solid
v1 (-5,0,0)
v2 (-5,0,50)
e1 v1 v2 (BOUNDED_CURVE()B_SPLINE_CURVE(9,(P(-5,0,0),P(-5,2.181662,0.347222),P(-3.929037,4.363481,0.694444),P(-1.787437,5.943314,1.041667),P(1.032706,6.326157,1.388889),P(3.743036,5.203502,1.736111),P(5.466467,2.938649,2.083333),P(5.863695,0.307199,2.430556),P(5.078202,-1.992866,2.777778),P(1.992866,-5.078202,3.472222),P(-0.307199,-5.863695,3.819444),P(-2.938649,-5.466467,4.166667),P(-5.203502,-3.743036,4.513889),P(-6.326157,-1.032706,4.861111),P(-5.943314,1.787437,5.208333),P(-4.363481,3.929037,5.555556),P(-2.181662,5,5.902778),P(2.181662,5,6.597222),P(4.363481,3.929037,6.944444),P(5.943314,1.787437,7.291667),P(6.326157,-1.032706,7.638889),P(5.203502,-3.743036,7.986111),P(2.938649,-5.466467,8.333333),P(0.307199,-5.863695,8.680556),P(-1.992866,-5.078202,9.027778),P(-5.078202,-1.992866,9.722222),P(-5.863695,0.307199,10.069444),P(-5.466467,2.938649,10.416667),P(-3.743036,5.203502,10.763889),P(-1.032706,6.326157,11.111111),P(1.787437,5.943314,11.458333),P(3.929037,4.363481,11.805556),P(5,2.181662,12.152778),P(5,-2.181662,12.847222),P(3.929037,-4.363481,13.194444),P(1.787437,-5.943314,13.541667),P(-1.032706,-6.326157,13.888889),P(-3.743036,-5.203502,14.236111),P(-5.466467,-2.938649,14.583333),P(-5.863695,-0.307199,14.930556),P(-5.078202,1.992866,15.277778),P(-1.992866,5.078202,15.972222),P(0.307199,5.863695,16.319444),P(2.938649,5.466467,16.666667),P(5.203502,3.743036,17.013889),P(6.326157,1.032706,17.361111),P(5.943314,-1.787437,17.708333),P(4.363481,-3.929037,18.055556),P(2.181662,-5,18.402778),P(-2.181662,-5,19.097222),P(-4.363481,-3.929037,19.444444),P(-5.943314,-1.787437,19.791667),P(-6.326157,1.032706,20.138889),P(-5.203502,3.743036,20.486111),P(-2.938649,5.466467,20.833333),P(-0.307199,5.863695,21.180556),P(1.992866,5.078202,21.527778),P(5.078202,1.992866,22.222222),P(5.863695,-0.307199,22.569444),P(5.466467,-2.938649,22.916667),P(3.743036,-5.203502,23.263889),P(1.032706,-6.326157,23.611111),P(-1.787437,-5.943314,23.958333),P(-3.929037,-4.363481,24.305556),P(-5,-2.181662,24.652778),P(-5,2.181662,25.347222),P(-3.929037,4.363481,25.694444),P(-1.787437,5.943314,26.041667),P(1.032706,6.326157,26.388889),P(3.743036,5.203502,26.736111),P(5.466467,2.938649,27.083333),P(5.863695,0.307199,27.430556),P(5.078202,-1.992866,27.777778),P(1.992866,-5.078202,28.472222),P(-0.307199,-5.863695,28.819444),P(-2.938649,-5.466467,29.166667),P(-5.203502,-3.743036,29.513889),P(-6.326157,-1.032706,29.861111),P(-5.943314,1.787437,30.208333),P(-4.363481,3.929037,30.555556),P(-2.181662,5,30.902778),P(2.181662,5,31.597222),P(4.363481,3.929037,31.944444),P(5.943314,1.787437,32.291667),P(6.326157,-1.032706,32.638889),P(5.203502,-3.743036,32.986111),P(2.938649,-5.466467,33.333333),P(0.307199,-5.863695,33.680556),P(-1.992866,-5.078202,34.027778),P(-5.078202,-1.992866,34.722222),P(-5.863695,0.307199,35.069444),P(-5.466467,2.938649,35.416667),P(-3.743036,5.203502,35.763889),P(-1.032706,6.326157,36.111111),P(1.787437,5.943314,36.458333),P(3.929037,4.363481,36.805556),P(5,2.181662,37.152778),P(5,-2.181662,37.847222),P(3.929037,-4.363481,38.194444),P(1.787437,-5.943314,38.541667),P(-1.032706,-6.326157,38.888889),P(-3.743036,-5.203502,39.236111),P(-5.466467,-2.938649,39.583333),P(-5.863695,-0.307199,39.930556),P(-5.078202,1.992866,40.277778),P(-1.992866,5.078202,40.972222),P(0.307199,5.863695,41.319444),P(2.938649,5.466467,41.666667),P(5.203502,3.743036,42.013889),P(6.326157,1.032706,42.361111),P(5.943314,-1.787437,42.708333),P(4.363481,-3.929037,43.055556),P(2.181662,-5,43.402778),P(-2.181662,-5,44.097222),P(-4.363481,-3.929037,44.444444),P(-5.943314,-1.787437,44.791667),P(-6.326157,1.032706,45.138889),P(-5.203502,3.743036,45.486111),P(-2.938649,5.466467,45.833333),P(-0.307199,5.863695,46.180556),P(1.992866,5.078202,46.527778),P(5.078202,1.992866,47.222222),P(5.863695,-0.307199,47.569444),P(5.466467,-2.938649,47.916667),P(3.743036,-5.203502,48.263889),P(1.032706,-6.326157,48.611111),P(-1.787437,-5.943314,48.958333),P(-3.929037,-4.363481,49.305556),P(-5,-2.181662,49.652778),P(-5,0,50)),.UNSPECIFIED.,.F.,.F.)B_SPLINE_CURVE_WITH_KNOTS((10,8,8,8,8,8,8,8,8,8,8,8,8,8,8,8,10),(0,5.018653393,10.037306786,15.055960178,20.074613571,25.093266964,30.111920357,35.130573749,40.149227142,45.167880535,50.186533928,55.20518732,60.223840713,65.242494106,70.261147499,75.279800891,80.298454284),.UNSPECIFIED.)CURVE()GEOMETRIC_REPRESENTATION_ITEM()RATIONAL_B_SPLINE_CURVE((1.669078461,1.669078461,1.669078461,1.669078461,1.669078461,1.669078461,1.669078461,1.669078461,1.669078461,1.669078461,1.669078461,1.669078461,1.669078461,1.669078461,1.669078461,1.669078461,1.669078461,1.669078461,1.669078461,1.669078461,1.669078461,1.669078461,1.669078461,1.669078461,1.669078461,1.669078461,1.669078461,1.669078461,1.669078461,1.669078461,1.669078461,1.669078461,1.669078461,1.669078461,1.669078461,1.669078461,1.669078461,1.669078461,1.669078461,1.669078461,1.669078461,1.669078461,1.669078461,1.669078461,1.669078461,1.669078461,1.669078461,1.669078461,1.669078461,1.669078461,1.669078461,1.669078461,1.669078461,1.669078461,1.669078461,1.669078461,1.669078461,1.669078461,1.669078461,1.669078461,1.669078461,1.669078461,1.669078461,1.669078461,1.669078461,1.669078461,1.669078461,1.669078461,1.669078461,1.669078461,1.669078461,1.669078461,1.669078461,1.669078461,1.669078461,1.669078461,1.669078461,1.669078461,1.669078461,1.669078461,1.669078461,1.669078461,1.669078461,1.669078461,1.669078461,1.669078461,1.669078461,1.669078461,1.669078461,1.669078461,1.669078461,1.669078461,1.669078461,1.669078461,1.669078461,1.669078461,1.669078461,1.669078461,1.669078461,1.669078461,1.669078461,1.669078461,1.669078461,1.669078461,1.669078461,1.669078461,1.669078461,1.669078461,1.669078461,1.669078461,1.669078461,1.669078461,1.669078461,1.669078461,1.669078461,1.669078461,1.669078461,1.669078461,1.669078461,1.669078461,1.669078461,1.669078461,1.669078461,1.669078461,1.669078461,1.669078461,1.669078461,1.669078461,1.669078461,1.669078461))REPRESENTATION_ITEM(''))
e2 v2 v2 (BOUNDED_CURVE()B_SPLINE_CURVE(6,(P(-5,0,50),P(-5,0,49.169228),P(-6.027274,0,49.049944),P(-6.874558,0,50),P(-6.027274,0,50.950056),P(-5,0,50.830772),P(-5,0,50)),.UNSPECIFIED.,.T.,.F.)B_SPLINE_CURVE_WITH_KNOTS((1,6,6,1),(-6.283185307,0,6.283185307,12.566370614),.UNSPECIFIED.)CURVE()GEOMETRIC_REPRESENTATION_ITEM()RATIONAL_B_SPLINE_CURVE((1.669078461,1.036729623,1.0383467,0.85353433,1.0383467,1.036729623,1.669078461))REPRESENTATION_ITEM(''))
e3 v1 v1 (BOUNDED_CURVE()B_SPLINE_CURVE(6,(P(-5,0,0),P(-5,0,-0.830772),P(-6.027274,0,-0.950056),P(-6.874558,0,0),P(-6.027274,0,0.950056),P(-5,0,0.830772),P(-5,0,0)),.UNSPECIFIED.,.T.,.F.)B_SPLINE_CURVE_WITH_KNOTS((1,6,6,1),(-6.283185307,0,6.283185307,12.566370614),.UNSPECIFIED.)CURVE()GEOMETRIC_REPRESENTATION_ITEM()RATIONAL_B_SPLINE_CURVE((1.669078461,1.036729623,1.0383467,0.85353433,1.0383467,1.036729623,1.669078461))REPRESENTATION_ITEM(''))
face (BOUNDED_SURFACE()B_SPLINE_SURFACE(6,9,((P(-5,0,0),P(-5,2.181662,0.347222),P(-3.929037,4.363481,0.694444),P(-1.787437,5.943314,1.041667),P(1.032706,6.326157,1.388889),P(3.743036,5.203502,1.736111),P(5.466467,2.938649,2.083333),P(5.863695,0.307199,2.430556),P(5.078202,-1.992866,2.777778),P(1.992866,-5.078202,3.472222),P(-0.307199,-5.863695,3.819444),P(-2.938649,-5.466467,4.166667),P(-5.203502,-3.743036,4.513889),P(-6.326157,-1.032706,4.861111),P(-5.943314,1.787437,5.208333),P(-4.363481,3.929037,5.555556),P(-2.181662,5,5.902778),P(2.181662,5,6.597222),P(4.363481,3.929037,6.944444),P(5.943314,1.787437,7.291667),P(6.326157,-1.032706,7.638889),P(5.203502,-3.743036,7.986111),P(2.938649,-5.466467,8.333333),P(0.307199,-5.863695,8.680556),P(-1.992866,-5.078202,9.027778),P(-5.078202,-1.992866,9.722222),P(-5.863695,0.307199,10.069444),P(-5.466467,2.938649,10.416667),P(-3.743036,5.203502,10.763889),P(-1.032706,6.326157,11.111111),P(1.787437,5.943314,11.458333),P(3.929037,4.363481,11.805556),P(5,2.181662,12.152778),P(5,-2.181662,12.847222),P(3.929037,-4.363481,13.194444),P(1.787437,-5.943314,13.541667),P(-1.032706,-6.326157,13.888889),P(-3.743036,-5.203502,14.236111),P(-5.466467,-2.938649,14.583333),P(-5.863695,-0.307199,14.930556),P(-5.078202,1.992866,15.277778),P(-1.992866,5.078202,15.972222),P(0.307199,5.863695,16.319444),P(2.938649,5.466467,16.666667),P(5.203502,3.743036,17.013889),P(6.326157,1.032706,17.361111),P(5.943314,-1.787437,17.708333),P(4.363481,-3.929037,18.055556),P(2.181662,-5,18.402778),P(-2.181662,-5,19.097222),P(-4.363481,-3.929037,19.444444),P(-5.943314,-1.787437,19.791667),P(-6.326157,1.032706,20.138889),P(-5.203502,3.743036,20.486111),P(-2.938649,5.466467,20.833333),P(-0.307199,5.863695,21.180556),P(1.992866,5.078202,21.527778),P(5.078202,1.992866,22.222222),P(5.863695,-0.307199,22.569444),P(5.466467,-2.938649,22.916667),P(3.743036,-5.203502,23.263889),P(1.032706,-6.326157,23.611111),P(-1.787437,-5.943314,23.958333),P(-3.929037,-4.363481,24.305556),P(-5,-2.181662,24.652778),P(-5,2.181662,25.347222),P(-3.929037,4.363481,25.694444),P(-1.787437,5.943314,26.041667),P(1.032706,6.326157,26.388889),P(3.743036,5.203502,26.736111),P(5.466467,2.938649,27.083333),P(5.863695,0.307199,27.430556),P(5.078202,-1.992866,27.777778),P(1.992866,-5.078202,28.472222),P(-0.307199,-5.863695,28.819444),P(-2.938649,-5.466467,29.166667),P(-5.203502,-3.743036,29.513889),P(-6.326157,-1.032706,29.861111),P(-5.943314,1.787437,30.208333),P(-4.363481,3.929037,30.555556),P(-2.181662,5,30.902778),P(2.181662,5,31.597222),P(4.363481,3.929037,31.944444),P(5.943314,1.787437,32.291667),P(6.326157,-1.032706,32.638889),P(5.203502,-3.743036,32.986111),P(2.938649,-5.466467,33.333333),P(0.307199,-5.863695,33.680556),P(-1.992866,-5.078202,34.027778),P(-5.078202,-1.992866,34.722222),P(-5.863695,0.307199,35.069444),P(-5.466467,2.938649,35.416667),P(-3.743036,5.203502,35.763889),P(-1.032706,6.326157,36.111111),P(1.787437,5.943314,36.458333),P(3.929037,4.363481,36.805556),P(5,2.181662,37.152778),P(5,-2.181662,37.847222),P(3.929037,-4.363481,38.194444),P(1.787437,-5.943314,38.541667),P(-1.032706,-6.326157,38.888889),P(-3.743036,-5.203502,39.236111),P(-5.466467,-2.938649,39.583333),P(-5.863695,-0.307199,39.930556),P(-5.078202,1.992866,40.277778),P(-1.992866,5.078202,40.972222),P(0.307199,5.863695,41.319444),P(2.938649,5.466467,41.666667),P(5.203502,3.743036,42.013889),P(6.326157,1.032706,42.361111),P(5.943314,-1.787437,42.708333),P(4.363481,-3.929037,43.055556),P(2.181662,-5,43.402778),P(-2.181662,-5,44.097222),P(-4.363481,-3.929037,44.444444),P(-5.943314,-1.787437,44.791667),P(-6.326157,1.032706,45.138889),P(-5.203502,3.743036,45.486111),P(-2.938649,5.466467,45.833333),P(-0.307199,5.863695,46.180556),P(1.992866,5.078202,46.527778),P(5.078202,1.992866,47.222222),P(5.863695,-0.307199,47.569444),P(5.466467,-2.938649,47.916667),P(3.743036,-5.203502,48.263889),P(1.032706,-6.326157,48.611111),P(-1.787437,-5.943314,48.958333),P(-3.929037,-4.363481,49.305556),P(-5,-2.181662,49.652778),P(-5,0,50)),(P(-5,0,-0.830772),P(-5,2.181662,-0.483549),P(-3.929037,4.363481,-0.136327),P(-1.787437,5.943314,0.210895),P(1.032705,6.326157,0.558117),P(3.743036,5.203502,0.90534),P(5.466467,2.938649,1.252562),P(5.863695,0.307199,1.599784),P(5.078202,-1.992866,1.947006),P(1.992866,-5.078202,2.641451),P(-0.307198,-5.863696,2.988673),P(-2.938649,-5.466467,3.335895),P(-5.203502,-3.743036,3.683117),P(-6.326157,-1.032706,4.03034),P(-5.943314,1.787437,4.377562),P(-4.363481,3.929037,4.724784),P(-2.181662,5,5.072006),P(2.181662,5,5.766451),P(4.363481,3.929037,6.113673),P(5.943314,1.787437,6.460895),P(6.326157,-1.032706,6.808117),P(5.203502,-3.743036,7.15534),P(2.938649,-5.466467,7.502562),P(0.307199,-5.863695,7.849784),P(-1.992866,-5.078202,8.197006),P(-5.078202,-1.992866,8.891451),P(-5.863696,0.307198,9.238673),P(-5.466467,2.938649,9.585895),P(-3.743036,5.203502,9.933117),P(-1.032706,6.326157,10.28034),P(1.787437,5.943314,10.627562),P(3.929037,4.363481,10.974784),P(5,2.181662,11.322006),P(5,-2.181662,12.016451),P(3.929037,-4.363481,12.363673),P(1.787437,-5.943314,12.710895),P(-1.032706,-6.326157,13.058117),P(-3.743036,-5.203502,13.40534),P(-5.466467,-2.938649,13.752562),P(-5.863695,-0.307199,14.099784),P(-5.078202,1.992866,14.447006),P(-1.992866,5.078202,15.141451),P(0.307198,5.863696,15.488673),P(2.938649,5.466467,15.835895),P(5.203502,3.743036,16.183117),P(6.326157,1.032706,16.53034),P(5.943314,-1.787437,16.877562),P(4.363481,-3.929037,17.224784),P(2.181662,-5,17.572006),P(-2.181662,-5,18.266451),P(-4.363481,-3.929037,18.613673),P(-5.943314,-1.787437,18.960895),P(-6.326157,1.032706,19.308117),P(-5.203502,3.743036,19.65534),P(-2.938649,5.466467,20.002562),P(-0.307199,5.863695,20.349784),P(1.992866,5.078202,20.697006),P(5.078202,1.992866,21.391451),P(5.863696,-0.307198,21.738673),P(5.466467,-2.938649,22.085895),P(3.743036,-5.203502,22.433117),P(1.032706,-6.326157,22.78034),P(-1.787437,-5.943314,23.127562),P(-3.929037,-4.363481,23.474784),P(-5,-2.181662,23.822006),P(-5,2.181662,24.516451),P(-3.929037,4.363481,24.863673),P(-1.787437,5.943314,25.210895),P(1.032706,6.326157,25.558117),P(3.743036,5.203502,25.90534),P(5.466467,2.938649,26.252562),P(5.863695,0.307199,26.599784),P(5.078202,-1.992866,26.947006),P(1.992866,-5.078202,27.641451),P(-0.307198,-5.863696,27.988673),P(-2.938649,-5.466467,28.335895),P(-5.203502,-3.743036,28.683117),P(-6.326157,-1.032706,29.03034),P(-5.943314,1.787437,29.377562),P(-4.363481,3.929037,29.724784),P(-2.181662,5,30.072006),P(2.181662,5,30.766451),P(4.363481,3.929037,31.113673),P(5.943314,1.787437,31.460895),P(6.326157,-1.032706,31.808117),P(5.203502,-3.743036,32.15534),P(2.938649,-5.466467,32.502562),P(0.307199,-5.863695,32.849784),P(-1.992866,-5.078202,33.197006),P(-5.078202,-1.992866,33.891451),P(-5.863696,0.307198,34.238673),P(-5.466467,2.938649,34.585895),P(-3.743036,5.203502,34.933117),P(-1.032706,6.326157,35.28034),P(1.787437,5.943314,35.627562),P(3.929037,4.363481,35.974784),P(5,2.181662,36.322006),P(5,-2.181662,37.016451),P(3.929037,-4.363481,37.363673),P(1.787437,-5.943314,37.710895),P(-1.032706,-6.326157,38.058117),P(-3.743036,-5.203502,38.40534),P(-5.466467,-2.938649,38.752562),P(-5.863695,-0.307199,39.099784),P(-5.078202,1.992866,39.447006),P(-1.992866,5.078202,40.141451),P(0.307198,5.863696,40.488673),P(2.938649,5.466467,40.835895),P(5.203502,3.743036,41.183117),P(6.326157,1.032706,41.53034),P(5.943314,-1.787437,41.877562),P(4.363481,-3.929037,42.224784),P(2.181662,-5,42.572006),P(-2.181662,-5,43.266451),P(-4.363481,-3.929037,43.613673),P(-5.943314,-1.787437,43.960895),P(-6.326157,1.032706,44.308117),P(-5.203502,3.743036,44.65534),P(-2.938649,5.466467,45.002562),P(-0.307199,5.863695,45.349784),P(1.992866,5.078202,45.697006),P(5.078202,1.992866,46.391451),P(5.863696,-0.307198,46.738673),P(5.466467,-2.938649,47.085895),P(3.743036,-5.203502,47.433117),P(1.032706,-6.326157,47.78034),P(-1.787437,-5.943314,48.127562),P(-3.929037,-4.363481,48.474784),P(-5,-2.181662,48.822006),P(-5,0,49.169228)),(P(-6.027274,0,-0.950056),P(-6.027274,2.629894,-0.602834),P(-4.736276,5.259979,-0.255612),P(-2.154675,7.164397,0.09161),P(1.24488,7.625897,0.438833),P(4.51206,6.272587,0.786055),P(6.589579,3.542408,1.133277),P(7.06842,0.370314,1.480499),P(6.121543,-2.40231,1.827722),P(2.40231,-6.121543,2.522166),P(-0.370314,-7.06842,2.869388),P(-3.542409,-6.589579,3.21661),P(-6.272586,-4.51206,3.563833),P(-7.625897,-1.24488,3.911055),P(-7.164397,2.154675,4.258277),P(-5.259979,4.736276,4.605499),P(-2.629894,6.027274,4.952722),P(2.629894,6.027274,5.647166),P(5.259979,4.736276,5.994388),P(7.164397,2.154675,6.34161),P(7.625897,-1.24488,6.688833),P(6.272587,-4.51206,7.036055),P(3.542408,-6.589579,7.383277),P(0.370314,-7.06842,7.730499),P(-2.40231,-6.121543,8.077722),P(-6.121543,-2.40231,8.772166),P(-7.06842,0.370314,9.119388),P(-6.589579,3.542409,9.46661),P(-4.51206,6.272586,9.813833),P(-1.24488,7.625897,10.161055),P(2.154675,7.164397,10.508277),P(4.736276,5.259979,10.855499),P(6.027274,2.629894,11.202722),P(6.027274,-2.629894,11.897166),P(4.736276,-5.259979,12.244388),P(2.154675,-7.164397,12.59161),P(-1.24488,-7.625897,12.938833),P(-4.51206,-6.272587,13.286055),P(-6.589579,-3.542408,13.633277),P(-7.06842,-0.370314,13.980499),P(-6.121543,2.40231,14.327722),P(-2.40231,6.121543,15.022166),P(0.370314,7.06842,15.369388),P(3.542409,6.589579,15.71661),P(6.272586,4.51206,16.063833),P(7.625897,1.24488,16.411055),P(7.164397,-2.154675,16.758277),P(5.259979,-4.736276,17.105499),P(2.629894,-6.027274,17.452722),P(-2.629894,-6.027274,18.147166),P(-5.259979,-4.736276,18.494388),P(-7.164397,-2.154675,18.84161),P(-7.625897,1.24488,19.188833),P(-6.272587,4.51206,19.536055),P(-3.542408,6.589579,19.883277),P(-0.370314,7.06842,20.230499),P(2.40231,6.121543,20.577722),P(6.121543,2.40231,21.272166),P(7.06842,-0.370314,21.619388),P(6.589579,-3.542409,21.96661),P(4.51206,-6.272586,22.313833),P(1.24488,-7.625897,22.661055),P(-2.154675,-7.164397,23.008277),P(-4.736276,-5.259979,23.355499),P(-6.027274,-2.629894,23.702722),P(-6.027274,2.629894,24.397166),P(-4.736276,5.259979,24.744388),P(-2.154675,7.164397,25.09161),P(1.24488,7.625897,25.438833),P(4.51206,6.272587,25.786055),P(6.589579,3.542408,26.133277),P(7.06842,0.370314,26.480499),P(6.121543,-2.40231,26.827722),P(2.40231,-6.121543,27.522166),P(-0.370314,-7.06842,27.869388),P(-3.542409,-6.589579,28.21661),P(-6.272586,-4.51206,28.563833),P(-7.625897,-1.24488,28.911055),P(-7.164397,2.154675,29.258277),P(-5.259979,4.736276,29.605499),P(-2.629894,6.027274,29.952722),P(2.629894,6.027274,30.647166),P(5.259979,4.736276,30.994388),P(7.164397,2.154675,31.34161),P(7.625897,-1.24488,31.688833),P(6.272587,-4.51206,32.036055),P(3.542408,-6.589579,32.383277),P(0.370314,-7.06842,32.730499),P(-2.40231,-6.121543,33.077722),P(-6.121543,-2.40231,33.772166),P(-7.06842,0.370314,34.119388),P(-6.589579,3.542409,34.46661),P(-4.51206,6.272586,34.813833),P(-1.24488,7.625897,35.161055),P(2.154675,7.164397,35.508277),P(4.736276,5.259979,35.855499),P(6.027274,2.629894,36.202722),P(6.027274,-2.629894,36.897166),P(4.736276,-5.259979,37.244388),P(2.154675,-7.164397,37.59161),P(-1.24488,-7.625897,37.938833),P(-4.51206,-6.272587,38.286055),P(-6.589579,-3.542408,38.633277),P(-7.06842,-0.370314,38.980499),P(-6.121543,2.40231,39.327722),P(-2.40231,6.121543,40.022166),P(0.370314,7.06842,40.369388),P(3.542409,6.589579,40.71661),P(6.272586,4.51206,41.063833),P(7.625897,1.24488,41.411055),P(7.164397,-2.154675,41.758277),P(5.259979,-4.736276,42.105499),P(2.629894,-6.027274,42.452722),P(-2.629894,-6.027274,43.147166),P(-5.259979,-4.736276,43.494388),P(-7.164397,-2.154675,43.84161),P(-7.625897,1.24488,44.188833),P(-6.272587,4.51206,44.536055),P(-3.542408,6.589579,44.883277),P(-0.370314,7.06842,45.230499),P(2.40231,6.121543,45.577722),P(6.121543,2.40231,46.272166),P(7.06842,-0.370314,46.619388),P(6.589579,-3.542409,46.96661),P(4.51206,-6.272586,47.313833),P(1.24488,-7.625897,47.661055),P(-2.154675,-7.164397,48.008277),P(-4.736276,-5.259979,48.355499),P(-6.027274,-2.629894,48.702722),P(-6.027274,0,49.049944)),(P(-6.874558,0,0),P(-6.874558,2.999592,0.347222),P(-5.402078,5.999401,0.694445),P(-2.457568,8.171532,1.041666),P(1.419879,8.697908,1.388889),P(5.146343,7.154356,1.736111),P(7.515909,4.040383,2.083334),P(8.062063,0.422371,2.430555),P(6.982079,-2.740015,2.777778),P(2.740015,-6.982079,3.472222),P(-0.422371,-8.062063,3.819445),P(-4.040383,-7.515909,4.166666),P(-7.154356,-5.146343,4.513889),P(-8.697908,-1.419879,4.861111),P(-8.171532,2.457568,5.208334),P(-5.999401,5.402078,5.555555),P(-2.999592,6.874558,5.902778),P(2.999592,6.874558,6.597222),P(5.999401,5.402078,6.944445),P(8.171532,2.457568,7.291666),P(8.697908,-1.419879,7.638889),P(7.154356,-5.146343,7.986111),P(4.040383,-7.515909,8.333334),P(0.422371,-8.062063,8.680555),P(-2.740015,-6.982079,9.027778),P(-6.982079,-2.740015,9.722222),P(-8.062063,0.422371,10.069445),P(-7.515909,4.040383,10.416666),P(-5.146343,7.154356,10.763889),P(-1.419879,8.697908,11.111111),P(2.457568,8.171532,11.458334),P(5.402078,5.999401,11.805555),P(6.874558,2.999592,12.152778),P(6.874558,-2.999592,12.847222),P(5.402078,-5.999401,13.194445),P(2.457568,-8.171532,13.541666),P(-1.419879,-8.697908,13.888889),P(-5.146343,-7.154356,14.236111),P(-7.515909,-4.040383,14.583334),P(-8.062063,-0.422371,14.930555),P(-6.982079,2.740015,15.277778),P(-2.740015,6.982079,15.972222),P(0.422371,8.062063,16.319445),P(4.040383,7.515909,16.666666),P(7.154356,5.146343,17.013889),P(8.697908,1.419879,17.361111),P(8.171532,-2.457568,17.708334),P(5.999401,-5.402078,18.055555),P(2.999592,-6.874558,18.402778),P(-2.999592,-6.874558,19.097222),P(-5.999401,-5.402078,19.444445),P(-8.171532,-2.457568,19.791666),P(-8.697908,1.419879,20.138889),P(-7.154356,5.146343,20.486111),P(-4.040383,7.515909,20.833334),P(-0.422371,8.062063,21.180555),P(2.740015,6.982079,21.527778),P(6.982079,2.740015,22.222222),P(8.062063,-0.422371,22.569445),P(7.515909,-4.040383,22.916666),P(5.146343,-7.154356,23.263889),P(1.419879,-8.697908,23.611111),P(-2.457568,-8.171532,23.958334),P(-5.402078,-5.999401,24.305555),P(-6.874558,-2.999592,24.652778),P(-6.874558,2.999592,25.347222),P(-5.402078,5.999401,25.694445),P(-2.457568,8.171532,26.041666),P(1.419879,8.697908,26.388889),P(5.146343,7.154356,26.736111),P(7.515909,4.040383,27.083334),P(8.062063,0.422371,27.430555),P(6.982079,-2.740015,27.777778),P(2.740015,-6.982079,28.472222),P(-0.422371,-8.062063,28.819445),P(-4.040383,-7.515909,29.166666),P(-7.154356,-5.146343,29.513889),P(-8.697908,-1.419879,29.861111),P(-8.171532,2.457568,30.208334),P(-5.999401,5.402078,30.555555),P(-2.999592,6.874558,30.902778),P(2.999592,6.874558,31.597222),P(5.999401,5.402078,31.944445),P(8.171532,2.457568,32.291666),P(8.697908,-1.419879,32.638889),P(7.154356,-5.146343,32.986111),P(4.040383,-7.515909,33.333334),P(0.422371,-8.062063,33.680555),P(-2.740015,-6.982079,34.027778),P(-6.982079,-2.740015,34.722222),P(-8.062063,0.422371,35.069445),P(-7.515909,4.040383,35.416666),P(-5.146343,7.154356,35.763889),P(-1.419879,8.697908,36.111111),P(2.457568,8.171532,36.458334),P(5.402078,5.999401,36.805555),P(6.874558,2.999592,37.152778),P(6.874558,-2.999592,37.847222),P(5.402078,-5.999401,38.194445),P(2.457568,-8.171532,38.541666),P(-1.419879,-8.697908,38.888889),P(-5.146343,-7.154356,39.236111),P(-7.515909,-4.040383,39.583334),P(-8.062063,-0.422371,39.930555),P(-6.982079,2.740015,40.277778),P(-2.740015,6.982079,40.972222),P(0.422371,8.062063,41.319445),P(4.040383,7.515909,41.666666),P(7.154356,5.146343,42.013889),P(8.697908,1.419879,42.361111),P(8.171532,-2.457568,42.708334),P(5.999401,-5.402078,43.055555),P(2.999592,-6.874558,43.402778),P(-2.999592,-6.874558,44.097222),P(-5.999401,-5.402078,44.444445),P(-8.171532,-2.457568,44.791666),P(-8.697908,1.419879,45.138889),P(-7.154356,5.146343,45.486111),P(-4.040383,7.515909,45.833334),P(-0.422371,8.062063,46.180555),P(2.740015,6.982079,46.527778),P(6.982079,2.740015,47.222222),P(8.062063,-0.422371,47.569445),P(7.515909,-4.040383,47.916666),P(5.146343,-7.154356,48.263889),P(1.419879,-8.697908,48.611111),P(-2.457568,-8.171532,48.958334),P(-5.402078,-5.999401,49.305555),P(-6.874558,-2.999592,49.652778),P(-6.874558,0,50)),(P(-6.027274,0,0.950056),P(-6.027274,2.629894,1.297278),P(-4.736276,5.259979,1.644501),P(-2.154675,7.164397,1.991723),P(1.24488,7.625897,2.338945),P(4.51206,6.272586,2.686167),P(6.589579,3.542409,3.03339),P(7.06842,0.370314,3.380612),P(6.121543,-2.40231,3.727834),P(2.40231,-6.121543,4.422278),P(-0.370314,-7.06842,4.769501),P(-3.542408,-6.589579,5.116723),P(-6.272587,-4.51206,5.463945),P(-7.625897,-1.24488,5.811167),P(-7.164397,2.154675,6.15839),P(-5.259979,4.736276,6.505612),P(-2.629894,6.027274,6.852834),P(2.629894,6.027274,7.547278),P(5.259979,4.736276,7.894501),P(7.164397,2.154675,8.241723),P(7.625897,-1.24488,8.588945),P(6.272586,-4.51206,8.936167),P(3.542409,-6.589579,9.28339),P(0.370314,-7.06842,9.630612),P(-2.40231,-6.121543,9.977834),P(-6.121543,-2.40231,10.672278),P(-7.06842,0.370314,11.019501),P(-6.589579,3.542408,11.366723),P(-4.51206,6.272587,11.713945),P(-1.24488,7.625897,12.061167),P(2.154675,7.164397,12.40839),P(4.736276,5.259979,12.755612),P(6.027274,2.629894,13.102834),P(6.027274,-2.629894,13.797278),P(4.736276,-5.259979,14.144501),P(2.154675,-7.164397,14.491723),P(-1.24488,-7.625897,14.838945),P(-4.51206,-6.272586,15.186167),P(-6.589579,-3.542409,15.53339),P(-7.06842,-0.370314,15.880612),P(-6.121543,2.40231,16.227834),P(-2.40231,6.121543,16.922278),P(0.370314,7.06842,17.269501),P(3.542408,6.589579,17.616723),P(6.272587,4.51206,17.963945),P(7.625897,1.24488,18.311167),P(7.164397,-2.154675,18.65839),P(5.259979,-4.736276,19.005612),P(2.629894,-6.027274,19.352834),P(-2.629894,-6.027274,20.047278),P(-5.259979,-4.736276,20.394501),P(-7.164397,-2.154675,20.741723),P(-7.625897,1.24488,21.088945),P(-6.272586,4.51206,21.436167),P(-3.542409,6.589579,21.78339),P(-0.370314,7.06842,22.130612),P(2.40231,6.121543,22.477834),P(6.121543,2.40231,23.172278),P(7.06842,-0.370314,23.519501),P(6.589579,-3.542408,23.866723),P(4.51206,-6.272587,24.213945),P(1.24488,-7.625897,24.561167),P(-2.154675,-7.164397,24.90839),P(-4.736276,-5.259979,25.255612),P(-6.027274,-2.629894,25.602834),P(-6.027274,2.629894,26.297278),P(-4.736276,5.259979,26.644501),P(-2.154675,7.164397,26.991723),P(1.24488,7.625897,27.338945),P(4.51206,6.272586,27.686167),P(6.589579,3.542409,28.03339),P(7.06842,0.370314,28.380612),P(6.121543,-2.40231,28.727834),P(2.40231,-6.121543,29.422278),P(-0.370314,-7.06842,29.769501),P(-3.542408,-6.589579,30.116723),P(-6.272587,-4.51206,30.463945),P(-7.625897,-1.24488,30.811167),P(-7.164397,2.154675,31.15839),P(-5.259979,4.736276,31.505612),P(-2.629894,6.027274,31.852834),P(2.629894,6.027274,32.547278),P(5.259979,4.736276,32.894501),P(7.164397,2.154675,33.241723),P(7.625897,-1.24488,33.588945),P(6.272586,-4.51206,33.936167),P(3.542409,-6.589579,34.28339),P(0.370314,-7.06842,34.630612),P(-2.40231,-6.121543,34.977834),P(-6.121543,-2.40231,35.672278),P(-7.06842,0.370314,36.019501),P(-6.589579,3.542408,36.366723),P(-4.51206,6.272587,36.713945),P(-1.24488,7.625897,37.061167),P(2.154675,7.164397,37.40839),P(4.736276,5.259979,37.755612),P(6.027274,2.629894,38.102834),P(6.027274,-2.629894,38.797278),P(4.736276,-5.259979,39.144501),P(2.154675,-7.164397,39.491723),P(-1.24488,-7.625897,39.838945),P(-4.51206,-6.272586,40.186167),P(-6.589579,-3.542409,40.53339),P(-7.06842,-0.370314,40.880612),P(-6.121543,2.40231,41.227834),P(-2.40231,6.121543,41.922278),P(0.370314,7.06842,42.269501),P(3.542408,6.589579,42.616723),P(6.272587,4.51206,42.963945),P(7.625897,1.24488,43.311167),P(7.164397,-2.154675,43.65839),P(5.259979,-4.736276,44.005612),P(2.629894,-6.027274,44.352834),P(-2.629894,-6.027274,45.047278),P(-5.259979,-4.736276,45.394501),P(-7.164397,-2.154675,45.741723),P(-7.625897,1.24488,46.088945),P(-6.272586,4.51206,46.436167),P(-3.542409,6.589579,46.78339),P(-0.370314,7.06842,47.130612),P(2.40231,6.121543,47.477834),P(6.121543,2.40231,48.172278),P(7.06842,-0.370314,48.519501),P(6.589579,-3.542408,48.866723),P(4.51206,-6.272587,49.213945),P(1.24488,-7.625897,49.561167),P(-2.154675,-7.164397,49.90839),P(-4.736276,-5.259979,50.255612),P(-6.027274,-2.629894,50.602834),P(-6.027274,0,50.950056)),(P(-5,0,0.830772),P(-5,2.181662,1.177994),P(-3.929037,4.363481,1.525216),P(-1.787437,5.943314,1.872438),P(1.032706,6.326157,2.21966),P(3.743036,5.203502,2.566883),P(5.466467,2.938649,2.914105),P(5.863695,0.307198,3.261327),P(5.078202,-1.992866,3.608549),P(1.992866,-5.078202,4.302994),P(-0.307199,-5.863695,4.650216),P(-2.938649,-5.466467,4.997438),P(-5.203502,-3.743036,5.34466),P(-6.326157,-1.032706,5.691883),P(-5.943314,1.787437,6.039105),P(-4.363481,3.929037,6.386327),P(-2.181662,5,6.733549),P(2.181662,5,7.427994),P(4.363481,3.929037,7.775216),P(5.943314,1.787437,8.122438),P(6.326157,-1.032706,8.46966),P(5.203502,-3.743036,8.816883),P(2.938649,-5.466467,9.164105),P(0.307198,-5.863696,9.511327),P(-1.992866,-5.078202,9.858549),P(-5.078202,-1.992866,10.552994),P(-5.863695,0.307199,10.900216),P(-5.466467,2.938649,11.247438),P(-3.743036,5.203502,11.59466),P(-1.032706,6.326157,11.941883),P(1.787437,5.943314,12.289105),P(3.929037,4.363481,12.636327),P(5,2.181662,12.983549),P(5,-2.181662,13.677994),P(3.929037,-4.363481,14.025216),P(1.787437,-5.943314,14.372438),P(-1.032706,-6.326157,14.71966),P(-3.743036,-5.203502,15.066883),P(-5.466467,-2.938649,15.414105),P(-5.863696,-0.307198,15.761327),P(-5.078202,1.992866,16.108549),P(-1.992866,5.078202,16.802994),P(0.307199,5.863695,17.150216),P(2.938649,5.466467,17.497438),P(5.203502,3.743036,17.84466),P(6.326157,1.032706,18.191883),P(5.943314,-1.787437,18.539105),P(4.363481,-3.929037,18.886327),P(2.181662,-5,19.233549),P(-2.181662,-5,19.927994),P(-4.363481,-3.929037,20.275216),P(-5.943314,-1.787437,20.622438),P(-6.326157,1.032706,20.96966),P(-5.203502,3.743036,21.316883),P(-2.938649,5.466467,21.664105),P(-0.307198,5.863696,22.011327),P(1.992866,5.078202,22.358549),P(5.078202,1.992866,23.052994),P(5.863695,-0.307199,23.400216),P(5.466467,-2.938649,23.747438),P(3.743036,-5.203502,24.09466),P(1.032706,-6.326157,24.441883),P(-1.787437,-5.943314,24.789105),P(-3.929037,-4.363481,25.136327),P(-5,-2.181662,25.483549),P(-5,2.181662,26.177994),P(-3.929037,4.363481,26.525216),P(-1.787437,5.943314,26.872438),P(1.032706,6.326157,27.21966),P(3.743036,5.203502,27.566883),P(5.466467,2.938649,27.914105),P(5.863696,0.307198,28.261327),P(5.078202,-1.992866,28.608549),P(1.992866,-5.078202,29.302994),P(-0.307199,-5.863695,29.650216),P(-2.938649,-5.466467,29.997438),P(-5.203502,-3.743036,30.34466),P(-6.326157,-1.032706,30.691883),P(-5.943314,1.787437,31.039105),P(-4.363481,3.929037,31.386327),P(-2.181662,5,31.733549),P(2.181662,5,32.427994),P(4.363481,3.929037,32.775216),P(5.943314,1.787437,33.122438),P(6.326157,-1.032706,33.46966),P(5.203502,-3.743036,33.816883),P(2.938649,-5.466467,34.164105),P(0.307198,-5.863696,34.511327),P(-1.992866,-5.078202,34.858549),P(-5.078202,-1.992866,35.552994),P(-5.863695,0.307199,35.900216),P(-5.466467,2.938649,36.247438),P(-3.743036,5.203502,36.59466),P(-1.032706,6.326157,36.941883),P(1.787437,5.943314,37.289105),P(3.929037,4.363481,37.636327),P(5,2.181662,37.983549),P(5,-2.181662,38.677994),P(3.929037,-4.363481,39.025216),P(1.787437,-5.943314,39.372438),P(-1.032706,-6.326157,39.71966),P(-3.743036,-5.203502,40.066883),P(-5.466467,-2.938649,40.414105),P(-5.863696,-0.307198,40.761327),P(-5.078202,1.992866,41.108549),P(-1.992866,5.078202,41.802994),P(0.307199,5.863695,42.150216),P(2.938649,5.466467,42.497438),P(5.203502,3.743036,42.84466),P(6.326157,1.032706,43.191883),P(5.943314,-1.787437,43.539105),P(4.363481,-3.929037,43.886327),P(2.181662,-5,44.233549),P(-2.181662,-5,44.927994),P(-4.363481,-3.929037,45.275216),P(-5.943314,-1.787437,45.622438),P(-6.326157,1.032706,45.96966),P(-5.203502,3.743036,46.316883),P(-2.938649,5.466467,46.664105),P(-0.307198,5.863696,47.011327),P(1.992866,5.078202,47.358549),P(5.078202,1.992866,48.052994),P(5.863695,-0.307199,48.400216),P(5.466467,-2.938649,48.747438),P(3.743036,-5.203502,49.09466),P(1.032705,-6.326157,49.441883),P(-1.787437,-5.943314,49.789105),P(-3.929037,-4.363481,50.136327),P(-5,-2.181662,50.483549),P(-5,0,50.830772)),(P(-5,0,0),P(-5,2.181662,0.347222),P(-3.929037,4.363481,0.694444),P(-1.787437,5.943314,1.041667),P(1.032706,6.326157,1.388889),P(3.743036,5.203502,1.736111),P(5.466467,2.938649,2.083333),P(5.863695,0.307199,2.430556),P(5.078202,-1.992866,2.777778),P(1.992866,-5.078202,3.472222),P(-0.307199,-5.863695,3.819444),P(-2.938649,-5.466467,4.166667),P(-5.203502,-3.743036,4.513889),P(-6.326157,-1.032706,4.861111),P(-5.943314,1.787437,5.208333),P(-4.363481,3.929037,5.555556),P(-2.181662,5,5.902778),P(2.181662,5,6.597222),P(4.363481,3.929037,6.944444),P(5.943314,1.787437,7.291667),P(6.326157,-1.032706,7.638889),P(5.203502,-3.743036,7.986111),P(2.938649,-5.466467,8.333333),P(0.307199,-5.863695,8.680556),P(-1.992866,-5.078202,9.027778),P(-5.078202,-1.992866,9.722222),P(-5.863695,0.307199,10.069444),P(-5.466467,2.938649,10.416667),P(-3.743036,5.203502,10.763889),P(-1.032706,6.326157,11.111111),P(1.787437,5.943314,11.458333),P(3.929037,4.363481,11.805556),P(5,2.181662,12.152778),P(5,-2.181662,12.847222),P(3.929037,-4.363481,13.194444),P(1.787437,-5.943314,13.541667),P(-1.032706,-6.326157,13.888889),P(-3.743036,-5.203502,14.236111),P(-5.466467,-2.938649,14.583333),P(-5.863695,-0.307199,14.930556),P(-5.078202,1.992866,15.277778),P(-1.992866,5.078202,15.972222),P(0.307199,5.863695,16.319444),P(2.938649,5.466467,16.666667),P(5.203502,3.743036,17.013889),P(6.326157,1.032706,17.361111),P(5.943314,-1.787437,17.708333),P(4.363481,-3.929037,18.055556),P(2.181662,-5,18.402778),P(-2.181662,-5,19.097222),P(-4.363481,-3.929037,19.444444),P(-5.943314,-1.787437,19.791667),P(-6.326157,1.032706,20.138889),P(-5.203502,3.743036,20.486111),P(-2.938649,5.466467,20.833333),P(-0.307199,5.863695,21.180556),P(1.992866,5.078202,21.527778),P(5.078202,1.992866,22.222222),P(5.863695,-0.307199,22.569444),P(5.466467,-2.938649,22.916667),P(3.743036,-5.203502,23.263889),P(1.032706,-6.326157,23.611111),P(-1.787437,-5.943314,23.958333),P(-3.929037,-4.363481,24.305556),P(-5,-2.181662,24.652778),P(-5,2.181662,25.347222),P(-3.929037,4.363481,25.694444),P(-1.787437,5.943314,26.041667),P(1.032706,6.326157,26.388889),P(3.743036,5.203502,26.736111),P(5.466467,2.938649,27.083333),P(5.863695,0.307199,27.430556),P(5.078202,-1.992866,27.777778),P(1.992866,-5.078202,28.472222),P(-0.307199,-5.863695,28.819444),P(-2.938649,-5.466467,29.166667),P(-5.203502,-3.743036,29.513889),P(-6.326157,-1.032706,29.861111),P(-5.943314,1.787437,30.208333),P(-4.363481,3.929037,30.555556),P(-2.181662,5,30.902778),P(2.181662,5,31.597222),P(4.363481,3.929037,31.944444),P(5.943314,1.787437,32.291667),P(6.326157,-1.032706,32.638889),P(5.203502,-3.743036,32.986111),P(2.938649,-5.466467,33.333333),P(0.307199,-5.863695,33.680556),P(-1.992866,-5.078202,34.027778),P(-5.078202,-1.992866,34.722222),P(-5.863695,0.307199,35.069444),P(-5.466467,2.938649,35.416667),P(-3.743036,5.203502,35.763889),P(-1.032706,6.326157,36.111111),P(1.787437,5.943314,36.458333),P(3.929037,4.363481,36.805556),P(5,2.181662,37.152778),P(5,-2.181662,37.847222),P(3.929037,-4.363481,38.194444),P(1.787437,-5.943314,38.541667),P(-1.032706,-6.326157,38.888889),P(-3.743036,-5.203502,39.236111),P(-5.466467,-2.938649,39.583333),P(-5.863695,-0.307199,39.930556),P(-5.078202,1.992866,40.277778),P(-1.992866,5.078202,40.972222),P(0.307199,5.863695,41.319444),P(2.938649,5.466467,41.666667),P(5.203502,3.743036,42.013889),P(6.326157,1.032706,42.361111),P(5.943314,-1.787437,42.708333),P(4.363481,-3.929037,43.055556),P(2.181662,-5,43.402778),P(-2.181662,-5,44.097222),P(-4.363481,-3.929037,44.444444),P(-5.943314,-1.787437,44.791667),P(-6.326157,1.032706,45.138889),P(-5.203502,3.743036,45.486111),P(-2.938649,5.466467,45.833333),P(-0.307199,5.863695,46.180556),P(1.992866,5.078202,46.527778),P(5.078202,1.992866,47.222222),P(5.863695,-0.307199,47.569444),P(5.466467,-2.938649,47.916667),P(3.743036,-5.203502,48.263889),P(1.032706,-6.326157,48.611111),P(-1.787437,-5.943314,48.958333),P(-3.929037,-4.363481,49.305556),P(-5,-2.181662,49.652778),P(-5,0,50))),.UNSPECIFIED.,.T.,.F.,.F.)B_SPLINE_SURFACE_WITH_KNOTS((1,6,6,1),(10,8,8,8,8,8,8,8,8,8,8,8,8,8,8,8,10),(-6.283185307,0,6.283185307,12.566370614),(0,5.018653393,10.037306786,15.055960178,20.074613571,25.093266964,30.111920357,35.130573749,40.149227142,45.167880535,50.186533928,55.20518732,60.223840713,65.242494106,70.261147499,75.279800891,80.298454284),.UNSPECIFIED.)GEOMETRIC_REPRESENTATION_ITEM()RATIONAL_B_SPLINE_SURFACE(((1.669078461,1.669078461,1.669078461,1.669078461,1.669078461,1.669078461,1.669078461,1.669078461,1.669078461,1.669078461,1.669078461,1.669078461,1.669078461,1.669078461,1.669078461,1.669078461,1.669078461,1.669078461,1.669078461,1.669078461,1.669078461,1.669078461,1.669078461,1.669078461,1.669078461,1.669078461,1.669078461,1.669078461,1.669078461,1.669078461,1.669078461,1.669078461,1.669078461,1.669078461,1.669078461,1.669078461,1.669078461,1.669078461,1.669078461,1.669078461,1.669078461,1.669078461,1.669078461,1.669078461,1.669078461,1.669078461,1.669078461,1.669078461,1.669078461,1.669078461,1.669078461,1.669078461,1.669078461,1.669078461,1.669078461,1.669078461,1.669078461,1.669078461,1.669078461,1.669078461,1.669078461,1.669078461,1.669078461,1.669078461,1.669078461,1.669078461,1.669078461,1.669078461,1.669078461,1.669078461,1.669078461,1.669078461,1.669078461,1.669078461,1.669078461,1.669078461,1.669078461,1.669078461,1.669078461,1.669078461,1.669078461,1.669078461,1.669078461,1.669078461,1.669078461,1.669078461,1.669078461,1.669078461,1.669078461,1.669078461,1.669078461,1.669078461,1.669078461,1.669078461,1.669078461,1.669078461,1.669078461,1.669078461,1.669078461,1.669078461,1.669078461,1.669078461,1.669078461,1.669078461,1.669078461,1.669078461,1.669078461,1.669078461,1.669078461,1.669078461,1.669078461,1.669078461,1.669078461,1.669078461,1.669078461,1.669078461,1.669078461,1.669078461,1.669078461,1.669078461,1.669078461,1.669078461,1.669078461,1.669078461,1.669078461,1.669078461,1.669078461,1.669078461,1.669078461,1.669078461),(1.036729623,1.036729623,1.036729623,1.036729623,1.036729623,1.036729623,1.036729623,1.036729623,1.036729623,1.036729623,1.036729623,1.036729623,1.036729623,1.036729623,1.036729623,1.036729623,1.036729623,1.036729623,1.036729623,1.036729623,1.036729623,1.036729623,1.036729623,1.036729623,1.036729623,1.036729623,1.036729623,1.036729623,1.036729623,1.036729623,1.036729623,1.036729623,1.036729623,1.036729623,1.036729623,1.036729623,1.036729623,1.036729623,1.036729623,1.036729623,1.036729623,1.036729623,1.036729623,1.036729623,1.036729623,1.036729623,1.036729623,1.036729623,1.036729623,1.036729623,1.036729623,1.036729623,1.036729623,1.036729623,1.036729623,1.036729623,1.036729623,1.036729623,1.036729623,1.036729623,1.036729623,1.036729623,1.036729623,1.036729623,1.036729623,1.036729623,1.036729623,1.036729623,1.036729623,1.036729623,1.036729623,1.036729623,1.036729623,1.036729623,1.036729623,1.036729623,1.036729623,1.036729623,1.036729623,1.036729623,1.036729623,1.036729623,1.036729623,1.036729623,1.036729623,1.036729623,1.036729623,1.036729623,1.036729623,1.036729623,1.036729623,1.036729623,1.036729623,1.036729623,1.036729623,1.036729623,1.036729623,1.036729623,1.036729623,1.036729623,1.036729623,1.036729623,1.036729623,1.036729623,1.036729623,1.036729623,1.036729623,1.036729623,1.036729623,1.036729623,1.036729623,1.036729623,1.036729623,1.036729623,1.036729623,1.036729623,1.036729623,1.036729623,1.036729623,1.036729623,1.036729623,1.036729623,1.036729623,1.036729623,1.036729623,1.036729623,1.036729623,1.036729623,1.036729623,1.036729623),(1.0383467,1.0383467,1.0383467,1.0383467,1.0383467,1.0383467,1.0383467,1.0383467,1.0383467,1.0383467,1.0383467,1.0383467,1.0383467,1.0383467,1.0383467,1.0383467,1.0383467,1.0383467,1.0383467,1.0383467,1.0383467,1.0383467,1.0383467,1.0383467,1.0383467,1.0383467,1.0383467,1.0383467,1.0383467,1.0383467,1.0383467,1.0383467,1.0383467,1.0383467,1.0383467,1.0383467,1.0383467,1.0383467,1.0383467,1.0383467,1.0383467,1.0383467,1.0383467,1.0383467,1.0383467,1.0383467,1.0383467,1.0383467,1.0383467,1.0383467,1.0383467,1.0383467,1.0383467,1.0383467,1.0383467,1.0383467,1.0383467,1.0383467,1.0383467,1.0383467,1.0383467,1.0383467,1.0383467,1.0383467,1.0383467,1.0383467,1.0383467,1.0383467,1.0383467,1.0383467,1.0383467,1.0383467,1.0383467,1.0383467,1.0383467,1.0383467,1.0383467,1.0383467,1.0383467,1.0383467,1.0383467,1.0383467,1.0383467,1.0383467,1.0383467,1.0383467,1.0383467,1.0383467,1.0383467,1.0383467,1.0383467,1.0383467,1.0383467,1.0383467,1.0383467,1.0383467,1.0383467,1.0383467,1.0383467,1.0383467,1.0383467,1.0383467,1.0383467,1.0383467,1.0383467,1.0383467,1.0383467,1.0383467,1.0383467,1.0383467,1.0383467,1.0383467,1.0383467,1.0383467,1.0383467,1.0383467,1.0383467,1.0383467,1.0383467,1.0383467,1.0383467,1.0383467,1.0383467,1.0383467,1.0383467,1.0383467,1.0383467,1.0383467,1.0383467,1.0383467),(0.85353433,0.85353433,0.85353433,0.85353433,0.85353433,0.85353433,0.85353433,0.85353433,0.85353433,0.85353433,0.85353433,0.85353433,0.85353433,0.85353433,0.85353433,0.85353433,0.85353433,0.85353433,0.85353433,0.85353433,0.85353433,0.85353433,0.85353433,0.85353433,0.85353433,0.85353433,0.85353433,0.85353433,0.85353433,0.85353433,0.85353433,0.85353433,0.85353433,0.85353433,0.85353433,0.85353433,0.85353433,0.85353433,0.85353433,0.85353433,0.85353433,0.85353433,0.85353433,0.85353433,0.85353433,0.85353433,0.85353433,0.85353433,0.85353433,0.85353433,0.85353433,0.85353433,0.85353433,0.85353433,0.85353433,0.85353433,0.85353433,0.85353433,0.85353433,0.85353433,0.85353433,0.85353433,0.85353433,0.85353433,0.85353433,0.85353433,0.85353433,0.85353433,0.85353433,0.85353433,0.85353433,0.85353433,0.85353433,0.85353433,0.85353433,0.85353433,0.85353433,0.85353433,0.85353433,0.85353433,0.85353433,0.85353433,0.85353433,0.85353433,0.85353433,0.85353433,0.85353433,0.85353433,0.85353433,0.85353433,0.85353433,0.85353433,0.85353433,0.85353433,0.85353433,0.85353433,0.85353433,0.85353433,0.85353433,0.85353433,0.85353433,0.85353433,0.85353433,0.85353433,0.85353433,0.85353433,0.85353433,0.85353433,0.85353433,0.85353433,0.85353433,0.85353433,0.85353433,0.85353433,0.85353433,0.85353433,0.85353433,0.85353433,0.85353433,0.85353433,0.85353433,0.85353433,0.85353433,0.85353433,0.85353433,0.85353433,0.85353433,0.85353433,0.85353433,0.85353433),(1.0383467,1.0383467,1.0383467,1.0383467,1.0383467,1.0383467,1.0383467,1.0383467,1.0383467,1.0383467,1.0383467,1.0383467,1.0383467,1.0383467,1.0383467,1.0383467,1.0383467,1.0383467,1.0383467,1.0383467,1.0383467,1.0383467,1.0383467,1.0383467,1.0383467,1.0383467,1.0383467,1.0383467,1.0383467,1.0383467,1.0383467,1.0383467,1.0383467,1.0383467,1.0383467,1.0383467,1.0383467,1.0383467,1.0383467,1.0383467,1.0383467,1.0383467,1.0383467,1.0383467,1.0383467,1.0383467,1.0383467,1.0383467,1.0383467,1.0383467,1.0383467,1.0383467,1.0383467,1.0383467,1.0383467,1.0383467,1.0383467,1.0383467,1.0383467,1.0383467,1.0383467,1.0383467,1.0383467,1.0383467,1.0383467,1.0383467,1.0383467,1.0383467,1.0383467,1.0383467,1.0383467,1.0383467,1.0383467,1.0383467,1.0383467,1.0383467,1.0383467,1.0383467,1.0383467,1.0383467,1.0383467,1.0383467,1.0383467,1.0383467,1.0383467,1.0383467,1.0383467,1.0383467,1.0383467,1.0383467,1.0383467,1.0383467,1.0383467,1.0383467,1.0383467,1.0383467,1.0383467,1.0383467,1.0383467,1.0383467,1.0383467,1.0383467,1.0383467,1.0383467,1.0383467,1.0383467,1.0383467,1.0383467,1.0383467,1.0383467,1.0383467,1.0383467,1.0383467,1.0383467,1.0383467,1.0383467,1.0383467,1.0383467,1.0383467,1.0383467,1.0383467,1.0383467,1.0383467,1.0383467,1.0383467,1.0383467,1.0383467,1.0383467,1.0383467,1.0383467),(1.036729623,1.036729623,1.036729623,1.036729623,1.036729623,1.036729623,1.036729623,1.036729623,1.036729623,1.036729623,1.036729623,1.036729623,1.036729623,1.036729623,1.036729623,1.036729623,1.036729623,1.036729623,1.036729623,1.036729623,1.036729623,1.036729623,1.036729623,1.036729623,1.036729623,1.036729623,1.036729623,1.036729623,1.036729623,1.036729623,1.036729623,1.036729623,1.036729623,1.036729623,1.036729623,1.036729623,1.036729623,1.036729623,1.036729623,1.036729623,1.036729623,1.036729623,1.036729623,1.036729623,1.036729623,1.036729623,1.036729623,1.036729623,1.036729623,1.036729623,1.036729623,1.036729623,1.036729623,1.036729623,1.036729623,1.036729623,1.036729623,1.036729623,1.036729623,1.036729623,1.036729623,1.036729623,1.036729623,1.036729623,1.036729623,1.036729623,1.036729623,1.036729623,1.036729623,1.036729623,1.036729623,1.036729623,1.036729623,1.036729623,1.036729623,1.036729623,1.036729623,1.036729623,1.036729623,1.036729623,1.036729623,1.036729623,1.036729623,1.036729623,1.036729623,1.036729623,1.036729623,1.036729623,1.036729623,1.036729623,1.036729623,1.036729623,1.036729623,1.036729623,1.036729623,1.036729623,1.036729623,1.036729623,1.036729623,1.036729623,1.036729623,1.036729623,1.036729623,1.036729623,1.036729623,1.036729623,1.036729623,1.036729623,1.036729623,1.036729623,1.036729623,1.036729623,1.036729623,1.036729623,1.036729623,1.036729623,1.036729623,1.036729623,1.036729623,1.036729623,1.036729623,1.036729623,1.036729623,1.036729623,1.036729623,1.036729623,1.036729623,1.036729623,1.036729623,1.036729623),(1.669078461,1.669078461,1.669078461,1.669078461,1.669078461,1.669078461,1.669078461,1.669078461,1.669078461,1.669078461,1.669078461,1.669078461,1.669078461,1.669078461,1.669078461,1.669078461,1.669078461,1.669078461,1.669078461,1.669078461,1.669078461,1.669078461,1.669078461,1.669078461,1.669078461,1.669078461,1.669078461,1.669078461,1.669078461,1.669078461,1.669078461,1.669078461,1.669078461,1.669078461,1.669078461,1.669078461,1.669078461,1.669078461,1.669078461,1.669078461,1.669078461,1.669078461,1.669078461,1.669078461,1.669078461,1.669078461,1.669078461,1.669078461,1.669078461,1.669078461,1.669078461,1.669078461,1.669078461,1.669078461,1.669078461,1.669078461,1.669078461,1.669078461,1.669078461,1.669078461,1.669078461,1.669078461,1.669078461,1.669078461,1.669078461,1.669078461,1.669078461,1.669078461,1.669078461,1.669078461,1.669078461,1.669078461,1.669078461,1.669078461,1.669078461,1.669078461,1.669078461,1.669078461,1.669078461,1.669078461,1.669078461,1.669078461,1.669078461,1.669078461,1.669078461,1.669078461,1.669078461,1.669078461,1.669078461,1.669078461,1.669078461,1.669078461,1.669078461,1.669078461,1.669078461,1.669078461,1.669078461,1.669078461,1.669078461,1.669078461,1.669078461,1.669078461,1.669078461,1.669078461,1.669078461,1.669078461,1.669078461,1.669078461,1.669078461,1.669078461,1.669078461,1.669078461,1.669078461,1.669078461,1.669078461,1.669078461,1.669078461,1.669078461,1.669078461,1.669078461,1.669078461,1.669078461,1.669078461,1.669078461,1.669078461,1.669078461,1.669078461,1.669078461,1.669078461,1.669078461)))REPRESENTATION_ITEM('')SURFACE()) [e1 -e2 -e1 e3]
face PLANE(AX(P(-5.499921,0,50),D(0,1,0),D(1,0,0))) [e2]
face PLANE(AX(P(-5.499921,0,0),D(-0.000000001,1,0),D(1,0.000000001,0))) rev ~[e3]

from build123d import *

# Parameters (mm, degrees)
SWEEP1_PITCH       = 5
SWEEP1_HEIGHT      = 50
SWEEP1_RADIUS      = 5.5
SWEEP1_START_ANGLE = -180
SKETCH2_R          = 0.5


with BuildPart() as part:
    # Sweep1: sweep along a helix
    with BuildLine() as sweep1_path:
        add(Helix(SWEEP1_PITCH, SWEEP1_HEIGHT, SWEEP1_RADIUS, center=(0, 0, 0), direction=(0, 0, 1), lefthand=True, mode=Mode.PRIVATE).rotate(Axis((0, 0, 0), (0, 0, 1)), SWEEP1_START_ANGLE))
    # Sketch2 → Sweep1 (sweep)
    with BuildSketch(Plane(origin=(0, 0, 0), x_dir=(1, 0, 0), z_dir=(0, 1, 0))):
        with Locations((-5.5, -50)):
            Circle(SKETCH2_R)
    sweep(path=sweep1_path.line, is_frenet=True)


solid = part.part
